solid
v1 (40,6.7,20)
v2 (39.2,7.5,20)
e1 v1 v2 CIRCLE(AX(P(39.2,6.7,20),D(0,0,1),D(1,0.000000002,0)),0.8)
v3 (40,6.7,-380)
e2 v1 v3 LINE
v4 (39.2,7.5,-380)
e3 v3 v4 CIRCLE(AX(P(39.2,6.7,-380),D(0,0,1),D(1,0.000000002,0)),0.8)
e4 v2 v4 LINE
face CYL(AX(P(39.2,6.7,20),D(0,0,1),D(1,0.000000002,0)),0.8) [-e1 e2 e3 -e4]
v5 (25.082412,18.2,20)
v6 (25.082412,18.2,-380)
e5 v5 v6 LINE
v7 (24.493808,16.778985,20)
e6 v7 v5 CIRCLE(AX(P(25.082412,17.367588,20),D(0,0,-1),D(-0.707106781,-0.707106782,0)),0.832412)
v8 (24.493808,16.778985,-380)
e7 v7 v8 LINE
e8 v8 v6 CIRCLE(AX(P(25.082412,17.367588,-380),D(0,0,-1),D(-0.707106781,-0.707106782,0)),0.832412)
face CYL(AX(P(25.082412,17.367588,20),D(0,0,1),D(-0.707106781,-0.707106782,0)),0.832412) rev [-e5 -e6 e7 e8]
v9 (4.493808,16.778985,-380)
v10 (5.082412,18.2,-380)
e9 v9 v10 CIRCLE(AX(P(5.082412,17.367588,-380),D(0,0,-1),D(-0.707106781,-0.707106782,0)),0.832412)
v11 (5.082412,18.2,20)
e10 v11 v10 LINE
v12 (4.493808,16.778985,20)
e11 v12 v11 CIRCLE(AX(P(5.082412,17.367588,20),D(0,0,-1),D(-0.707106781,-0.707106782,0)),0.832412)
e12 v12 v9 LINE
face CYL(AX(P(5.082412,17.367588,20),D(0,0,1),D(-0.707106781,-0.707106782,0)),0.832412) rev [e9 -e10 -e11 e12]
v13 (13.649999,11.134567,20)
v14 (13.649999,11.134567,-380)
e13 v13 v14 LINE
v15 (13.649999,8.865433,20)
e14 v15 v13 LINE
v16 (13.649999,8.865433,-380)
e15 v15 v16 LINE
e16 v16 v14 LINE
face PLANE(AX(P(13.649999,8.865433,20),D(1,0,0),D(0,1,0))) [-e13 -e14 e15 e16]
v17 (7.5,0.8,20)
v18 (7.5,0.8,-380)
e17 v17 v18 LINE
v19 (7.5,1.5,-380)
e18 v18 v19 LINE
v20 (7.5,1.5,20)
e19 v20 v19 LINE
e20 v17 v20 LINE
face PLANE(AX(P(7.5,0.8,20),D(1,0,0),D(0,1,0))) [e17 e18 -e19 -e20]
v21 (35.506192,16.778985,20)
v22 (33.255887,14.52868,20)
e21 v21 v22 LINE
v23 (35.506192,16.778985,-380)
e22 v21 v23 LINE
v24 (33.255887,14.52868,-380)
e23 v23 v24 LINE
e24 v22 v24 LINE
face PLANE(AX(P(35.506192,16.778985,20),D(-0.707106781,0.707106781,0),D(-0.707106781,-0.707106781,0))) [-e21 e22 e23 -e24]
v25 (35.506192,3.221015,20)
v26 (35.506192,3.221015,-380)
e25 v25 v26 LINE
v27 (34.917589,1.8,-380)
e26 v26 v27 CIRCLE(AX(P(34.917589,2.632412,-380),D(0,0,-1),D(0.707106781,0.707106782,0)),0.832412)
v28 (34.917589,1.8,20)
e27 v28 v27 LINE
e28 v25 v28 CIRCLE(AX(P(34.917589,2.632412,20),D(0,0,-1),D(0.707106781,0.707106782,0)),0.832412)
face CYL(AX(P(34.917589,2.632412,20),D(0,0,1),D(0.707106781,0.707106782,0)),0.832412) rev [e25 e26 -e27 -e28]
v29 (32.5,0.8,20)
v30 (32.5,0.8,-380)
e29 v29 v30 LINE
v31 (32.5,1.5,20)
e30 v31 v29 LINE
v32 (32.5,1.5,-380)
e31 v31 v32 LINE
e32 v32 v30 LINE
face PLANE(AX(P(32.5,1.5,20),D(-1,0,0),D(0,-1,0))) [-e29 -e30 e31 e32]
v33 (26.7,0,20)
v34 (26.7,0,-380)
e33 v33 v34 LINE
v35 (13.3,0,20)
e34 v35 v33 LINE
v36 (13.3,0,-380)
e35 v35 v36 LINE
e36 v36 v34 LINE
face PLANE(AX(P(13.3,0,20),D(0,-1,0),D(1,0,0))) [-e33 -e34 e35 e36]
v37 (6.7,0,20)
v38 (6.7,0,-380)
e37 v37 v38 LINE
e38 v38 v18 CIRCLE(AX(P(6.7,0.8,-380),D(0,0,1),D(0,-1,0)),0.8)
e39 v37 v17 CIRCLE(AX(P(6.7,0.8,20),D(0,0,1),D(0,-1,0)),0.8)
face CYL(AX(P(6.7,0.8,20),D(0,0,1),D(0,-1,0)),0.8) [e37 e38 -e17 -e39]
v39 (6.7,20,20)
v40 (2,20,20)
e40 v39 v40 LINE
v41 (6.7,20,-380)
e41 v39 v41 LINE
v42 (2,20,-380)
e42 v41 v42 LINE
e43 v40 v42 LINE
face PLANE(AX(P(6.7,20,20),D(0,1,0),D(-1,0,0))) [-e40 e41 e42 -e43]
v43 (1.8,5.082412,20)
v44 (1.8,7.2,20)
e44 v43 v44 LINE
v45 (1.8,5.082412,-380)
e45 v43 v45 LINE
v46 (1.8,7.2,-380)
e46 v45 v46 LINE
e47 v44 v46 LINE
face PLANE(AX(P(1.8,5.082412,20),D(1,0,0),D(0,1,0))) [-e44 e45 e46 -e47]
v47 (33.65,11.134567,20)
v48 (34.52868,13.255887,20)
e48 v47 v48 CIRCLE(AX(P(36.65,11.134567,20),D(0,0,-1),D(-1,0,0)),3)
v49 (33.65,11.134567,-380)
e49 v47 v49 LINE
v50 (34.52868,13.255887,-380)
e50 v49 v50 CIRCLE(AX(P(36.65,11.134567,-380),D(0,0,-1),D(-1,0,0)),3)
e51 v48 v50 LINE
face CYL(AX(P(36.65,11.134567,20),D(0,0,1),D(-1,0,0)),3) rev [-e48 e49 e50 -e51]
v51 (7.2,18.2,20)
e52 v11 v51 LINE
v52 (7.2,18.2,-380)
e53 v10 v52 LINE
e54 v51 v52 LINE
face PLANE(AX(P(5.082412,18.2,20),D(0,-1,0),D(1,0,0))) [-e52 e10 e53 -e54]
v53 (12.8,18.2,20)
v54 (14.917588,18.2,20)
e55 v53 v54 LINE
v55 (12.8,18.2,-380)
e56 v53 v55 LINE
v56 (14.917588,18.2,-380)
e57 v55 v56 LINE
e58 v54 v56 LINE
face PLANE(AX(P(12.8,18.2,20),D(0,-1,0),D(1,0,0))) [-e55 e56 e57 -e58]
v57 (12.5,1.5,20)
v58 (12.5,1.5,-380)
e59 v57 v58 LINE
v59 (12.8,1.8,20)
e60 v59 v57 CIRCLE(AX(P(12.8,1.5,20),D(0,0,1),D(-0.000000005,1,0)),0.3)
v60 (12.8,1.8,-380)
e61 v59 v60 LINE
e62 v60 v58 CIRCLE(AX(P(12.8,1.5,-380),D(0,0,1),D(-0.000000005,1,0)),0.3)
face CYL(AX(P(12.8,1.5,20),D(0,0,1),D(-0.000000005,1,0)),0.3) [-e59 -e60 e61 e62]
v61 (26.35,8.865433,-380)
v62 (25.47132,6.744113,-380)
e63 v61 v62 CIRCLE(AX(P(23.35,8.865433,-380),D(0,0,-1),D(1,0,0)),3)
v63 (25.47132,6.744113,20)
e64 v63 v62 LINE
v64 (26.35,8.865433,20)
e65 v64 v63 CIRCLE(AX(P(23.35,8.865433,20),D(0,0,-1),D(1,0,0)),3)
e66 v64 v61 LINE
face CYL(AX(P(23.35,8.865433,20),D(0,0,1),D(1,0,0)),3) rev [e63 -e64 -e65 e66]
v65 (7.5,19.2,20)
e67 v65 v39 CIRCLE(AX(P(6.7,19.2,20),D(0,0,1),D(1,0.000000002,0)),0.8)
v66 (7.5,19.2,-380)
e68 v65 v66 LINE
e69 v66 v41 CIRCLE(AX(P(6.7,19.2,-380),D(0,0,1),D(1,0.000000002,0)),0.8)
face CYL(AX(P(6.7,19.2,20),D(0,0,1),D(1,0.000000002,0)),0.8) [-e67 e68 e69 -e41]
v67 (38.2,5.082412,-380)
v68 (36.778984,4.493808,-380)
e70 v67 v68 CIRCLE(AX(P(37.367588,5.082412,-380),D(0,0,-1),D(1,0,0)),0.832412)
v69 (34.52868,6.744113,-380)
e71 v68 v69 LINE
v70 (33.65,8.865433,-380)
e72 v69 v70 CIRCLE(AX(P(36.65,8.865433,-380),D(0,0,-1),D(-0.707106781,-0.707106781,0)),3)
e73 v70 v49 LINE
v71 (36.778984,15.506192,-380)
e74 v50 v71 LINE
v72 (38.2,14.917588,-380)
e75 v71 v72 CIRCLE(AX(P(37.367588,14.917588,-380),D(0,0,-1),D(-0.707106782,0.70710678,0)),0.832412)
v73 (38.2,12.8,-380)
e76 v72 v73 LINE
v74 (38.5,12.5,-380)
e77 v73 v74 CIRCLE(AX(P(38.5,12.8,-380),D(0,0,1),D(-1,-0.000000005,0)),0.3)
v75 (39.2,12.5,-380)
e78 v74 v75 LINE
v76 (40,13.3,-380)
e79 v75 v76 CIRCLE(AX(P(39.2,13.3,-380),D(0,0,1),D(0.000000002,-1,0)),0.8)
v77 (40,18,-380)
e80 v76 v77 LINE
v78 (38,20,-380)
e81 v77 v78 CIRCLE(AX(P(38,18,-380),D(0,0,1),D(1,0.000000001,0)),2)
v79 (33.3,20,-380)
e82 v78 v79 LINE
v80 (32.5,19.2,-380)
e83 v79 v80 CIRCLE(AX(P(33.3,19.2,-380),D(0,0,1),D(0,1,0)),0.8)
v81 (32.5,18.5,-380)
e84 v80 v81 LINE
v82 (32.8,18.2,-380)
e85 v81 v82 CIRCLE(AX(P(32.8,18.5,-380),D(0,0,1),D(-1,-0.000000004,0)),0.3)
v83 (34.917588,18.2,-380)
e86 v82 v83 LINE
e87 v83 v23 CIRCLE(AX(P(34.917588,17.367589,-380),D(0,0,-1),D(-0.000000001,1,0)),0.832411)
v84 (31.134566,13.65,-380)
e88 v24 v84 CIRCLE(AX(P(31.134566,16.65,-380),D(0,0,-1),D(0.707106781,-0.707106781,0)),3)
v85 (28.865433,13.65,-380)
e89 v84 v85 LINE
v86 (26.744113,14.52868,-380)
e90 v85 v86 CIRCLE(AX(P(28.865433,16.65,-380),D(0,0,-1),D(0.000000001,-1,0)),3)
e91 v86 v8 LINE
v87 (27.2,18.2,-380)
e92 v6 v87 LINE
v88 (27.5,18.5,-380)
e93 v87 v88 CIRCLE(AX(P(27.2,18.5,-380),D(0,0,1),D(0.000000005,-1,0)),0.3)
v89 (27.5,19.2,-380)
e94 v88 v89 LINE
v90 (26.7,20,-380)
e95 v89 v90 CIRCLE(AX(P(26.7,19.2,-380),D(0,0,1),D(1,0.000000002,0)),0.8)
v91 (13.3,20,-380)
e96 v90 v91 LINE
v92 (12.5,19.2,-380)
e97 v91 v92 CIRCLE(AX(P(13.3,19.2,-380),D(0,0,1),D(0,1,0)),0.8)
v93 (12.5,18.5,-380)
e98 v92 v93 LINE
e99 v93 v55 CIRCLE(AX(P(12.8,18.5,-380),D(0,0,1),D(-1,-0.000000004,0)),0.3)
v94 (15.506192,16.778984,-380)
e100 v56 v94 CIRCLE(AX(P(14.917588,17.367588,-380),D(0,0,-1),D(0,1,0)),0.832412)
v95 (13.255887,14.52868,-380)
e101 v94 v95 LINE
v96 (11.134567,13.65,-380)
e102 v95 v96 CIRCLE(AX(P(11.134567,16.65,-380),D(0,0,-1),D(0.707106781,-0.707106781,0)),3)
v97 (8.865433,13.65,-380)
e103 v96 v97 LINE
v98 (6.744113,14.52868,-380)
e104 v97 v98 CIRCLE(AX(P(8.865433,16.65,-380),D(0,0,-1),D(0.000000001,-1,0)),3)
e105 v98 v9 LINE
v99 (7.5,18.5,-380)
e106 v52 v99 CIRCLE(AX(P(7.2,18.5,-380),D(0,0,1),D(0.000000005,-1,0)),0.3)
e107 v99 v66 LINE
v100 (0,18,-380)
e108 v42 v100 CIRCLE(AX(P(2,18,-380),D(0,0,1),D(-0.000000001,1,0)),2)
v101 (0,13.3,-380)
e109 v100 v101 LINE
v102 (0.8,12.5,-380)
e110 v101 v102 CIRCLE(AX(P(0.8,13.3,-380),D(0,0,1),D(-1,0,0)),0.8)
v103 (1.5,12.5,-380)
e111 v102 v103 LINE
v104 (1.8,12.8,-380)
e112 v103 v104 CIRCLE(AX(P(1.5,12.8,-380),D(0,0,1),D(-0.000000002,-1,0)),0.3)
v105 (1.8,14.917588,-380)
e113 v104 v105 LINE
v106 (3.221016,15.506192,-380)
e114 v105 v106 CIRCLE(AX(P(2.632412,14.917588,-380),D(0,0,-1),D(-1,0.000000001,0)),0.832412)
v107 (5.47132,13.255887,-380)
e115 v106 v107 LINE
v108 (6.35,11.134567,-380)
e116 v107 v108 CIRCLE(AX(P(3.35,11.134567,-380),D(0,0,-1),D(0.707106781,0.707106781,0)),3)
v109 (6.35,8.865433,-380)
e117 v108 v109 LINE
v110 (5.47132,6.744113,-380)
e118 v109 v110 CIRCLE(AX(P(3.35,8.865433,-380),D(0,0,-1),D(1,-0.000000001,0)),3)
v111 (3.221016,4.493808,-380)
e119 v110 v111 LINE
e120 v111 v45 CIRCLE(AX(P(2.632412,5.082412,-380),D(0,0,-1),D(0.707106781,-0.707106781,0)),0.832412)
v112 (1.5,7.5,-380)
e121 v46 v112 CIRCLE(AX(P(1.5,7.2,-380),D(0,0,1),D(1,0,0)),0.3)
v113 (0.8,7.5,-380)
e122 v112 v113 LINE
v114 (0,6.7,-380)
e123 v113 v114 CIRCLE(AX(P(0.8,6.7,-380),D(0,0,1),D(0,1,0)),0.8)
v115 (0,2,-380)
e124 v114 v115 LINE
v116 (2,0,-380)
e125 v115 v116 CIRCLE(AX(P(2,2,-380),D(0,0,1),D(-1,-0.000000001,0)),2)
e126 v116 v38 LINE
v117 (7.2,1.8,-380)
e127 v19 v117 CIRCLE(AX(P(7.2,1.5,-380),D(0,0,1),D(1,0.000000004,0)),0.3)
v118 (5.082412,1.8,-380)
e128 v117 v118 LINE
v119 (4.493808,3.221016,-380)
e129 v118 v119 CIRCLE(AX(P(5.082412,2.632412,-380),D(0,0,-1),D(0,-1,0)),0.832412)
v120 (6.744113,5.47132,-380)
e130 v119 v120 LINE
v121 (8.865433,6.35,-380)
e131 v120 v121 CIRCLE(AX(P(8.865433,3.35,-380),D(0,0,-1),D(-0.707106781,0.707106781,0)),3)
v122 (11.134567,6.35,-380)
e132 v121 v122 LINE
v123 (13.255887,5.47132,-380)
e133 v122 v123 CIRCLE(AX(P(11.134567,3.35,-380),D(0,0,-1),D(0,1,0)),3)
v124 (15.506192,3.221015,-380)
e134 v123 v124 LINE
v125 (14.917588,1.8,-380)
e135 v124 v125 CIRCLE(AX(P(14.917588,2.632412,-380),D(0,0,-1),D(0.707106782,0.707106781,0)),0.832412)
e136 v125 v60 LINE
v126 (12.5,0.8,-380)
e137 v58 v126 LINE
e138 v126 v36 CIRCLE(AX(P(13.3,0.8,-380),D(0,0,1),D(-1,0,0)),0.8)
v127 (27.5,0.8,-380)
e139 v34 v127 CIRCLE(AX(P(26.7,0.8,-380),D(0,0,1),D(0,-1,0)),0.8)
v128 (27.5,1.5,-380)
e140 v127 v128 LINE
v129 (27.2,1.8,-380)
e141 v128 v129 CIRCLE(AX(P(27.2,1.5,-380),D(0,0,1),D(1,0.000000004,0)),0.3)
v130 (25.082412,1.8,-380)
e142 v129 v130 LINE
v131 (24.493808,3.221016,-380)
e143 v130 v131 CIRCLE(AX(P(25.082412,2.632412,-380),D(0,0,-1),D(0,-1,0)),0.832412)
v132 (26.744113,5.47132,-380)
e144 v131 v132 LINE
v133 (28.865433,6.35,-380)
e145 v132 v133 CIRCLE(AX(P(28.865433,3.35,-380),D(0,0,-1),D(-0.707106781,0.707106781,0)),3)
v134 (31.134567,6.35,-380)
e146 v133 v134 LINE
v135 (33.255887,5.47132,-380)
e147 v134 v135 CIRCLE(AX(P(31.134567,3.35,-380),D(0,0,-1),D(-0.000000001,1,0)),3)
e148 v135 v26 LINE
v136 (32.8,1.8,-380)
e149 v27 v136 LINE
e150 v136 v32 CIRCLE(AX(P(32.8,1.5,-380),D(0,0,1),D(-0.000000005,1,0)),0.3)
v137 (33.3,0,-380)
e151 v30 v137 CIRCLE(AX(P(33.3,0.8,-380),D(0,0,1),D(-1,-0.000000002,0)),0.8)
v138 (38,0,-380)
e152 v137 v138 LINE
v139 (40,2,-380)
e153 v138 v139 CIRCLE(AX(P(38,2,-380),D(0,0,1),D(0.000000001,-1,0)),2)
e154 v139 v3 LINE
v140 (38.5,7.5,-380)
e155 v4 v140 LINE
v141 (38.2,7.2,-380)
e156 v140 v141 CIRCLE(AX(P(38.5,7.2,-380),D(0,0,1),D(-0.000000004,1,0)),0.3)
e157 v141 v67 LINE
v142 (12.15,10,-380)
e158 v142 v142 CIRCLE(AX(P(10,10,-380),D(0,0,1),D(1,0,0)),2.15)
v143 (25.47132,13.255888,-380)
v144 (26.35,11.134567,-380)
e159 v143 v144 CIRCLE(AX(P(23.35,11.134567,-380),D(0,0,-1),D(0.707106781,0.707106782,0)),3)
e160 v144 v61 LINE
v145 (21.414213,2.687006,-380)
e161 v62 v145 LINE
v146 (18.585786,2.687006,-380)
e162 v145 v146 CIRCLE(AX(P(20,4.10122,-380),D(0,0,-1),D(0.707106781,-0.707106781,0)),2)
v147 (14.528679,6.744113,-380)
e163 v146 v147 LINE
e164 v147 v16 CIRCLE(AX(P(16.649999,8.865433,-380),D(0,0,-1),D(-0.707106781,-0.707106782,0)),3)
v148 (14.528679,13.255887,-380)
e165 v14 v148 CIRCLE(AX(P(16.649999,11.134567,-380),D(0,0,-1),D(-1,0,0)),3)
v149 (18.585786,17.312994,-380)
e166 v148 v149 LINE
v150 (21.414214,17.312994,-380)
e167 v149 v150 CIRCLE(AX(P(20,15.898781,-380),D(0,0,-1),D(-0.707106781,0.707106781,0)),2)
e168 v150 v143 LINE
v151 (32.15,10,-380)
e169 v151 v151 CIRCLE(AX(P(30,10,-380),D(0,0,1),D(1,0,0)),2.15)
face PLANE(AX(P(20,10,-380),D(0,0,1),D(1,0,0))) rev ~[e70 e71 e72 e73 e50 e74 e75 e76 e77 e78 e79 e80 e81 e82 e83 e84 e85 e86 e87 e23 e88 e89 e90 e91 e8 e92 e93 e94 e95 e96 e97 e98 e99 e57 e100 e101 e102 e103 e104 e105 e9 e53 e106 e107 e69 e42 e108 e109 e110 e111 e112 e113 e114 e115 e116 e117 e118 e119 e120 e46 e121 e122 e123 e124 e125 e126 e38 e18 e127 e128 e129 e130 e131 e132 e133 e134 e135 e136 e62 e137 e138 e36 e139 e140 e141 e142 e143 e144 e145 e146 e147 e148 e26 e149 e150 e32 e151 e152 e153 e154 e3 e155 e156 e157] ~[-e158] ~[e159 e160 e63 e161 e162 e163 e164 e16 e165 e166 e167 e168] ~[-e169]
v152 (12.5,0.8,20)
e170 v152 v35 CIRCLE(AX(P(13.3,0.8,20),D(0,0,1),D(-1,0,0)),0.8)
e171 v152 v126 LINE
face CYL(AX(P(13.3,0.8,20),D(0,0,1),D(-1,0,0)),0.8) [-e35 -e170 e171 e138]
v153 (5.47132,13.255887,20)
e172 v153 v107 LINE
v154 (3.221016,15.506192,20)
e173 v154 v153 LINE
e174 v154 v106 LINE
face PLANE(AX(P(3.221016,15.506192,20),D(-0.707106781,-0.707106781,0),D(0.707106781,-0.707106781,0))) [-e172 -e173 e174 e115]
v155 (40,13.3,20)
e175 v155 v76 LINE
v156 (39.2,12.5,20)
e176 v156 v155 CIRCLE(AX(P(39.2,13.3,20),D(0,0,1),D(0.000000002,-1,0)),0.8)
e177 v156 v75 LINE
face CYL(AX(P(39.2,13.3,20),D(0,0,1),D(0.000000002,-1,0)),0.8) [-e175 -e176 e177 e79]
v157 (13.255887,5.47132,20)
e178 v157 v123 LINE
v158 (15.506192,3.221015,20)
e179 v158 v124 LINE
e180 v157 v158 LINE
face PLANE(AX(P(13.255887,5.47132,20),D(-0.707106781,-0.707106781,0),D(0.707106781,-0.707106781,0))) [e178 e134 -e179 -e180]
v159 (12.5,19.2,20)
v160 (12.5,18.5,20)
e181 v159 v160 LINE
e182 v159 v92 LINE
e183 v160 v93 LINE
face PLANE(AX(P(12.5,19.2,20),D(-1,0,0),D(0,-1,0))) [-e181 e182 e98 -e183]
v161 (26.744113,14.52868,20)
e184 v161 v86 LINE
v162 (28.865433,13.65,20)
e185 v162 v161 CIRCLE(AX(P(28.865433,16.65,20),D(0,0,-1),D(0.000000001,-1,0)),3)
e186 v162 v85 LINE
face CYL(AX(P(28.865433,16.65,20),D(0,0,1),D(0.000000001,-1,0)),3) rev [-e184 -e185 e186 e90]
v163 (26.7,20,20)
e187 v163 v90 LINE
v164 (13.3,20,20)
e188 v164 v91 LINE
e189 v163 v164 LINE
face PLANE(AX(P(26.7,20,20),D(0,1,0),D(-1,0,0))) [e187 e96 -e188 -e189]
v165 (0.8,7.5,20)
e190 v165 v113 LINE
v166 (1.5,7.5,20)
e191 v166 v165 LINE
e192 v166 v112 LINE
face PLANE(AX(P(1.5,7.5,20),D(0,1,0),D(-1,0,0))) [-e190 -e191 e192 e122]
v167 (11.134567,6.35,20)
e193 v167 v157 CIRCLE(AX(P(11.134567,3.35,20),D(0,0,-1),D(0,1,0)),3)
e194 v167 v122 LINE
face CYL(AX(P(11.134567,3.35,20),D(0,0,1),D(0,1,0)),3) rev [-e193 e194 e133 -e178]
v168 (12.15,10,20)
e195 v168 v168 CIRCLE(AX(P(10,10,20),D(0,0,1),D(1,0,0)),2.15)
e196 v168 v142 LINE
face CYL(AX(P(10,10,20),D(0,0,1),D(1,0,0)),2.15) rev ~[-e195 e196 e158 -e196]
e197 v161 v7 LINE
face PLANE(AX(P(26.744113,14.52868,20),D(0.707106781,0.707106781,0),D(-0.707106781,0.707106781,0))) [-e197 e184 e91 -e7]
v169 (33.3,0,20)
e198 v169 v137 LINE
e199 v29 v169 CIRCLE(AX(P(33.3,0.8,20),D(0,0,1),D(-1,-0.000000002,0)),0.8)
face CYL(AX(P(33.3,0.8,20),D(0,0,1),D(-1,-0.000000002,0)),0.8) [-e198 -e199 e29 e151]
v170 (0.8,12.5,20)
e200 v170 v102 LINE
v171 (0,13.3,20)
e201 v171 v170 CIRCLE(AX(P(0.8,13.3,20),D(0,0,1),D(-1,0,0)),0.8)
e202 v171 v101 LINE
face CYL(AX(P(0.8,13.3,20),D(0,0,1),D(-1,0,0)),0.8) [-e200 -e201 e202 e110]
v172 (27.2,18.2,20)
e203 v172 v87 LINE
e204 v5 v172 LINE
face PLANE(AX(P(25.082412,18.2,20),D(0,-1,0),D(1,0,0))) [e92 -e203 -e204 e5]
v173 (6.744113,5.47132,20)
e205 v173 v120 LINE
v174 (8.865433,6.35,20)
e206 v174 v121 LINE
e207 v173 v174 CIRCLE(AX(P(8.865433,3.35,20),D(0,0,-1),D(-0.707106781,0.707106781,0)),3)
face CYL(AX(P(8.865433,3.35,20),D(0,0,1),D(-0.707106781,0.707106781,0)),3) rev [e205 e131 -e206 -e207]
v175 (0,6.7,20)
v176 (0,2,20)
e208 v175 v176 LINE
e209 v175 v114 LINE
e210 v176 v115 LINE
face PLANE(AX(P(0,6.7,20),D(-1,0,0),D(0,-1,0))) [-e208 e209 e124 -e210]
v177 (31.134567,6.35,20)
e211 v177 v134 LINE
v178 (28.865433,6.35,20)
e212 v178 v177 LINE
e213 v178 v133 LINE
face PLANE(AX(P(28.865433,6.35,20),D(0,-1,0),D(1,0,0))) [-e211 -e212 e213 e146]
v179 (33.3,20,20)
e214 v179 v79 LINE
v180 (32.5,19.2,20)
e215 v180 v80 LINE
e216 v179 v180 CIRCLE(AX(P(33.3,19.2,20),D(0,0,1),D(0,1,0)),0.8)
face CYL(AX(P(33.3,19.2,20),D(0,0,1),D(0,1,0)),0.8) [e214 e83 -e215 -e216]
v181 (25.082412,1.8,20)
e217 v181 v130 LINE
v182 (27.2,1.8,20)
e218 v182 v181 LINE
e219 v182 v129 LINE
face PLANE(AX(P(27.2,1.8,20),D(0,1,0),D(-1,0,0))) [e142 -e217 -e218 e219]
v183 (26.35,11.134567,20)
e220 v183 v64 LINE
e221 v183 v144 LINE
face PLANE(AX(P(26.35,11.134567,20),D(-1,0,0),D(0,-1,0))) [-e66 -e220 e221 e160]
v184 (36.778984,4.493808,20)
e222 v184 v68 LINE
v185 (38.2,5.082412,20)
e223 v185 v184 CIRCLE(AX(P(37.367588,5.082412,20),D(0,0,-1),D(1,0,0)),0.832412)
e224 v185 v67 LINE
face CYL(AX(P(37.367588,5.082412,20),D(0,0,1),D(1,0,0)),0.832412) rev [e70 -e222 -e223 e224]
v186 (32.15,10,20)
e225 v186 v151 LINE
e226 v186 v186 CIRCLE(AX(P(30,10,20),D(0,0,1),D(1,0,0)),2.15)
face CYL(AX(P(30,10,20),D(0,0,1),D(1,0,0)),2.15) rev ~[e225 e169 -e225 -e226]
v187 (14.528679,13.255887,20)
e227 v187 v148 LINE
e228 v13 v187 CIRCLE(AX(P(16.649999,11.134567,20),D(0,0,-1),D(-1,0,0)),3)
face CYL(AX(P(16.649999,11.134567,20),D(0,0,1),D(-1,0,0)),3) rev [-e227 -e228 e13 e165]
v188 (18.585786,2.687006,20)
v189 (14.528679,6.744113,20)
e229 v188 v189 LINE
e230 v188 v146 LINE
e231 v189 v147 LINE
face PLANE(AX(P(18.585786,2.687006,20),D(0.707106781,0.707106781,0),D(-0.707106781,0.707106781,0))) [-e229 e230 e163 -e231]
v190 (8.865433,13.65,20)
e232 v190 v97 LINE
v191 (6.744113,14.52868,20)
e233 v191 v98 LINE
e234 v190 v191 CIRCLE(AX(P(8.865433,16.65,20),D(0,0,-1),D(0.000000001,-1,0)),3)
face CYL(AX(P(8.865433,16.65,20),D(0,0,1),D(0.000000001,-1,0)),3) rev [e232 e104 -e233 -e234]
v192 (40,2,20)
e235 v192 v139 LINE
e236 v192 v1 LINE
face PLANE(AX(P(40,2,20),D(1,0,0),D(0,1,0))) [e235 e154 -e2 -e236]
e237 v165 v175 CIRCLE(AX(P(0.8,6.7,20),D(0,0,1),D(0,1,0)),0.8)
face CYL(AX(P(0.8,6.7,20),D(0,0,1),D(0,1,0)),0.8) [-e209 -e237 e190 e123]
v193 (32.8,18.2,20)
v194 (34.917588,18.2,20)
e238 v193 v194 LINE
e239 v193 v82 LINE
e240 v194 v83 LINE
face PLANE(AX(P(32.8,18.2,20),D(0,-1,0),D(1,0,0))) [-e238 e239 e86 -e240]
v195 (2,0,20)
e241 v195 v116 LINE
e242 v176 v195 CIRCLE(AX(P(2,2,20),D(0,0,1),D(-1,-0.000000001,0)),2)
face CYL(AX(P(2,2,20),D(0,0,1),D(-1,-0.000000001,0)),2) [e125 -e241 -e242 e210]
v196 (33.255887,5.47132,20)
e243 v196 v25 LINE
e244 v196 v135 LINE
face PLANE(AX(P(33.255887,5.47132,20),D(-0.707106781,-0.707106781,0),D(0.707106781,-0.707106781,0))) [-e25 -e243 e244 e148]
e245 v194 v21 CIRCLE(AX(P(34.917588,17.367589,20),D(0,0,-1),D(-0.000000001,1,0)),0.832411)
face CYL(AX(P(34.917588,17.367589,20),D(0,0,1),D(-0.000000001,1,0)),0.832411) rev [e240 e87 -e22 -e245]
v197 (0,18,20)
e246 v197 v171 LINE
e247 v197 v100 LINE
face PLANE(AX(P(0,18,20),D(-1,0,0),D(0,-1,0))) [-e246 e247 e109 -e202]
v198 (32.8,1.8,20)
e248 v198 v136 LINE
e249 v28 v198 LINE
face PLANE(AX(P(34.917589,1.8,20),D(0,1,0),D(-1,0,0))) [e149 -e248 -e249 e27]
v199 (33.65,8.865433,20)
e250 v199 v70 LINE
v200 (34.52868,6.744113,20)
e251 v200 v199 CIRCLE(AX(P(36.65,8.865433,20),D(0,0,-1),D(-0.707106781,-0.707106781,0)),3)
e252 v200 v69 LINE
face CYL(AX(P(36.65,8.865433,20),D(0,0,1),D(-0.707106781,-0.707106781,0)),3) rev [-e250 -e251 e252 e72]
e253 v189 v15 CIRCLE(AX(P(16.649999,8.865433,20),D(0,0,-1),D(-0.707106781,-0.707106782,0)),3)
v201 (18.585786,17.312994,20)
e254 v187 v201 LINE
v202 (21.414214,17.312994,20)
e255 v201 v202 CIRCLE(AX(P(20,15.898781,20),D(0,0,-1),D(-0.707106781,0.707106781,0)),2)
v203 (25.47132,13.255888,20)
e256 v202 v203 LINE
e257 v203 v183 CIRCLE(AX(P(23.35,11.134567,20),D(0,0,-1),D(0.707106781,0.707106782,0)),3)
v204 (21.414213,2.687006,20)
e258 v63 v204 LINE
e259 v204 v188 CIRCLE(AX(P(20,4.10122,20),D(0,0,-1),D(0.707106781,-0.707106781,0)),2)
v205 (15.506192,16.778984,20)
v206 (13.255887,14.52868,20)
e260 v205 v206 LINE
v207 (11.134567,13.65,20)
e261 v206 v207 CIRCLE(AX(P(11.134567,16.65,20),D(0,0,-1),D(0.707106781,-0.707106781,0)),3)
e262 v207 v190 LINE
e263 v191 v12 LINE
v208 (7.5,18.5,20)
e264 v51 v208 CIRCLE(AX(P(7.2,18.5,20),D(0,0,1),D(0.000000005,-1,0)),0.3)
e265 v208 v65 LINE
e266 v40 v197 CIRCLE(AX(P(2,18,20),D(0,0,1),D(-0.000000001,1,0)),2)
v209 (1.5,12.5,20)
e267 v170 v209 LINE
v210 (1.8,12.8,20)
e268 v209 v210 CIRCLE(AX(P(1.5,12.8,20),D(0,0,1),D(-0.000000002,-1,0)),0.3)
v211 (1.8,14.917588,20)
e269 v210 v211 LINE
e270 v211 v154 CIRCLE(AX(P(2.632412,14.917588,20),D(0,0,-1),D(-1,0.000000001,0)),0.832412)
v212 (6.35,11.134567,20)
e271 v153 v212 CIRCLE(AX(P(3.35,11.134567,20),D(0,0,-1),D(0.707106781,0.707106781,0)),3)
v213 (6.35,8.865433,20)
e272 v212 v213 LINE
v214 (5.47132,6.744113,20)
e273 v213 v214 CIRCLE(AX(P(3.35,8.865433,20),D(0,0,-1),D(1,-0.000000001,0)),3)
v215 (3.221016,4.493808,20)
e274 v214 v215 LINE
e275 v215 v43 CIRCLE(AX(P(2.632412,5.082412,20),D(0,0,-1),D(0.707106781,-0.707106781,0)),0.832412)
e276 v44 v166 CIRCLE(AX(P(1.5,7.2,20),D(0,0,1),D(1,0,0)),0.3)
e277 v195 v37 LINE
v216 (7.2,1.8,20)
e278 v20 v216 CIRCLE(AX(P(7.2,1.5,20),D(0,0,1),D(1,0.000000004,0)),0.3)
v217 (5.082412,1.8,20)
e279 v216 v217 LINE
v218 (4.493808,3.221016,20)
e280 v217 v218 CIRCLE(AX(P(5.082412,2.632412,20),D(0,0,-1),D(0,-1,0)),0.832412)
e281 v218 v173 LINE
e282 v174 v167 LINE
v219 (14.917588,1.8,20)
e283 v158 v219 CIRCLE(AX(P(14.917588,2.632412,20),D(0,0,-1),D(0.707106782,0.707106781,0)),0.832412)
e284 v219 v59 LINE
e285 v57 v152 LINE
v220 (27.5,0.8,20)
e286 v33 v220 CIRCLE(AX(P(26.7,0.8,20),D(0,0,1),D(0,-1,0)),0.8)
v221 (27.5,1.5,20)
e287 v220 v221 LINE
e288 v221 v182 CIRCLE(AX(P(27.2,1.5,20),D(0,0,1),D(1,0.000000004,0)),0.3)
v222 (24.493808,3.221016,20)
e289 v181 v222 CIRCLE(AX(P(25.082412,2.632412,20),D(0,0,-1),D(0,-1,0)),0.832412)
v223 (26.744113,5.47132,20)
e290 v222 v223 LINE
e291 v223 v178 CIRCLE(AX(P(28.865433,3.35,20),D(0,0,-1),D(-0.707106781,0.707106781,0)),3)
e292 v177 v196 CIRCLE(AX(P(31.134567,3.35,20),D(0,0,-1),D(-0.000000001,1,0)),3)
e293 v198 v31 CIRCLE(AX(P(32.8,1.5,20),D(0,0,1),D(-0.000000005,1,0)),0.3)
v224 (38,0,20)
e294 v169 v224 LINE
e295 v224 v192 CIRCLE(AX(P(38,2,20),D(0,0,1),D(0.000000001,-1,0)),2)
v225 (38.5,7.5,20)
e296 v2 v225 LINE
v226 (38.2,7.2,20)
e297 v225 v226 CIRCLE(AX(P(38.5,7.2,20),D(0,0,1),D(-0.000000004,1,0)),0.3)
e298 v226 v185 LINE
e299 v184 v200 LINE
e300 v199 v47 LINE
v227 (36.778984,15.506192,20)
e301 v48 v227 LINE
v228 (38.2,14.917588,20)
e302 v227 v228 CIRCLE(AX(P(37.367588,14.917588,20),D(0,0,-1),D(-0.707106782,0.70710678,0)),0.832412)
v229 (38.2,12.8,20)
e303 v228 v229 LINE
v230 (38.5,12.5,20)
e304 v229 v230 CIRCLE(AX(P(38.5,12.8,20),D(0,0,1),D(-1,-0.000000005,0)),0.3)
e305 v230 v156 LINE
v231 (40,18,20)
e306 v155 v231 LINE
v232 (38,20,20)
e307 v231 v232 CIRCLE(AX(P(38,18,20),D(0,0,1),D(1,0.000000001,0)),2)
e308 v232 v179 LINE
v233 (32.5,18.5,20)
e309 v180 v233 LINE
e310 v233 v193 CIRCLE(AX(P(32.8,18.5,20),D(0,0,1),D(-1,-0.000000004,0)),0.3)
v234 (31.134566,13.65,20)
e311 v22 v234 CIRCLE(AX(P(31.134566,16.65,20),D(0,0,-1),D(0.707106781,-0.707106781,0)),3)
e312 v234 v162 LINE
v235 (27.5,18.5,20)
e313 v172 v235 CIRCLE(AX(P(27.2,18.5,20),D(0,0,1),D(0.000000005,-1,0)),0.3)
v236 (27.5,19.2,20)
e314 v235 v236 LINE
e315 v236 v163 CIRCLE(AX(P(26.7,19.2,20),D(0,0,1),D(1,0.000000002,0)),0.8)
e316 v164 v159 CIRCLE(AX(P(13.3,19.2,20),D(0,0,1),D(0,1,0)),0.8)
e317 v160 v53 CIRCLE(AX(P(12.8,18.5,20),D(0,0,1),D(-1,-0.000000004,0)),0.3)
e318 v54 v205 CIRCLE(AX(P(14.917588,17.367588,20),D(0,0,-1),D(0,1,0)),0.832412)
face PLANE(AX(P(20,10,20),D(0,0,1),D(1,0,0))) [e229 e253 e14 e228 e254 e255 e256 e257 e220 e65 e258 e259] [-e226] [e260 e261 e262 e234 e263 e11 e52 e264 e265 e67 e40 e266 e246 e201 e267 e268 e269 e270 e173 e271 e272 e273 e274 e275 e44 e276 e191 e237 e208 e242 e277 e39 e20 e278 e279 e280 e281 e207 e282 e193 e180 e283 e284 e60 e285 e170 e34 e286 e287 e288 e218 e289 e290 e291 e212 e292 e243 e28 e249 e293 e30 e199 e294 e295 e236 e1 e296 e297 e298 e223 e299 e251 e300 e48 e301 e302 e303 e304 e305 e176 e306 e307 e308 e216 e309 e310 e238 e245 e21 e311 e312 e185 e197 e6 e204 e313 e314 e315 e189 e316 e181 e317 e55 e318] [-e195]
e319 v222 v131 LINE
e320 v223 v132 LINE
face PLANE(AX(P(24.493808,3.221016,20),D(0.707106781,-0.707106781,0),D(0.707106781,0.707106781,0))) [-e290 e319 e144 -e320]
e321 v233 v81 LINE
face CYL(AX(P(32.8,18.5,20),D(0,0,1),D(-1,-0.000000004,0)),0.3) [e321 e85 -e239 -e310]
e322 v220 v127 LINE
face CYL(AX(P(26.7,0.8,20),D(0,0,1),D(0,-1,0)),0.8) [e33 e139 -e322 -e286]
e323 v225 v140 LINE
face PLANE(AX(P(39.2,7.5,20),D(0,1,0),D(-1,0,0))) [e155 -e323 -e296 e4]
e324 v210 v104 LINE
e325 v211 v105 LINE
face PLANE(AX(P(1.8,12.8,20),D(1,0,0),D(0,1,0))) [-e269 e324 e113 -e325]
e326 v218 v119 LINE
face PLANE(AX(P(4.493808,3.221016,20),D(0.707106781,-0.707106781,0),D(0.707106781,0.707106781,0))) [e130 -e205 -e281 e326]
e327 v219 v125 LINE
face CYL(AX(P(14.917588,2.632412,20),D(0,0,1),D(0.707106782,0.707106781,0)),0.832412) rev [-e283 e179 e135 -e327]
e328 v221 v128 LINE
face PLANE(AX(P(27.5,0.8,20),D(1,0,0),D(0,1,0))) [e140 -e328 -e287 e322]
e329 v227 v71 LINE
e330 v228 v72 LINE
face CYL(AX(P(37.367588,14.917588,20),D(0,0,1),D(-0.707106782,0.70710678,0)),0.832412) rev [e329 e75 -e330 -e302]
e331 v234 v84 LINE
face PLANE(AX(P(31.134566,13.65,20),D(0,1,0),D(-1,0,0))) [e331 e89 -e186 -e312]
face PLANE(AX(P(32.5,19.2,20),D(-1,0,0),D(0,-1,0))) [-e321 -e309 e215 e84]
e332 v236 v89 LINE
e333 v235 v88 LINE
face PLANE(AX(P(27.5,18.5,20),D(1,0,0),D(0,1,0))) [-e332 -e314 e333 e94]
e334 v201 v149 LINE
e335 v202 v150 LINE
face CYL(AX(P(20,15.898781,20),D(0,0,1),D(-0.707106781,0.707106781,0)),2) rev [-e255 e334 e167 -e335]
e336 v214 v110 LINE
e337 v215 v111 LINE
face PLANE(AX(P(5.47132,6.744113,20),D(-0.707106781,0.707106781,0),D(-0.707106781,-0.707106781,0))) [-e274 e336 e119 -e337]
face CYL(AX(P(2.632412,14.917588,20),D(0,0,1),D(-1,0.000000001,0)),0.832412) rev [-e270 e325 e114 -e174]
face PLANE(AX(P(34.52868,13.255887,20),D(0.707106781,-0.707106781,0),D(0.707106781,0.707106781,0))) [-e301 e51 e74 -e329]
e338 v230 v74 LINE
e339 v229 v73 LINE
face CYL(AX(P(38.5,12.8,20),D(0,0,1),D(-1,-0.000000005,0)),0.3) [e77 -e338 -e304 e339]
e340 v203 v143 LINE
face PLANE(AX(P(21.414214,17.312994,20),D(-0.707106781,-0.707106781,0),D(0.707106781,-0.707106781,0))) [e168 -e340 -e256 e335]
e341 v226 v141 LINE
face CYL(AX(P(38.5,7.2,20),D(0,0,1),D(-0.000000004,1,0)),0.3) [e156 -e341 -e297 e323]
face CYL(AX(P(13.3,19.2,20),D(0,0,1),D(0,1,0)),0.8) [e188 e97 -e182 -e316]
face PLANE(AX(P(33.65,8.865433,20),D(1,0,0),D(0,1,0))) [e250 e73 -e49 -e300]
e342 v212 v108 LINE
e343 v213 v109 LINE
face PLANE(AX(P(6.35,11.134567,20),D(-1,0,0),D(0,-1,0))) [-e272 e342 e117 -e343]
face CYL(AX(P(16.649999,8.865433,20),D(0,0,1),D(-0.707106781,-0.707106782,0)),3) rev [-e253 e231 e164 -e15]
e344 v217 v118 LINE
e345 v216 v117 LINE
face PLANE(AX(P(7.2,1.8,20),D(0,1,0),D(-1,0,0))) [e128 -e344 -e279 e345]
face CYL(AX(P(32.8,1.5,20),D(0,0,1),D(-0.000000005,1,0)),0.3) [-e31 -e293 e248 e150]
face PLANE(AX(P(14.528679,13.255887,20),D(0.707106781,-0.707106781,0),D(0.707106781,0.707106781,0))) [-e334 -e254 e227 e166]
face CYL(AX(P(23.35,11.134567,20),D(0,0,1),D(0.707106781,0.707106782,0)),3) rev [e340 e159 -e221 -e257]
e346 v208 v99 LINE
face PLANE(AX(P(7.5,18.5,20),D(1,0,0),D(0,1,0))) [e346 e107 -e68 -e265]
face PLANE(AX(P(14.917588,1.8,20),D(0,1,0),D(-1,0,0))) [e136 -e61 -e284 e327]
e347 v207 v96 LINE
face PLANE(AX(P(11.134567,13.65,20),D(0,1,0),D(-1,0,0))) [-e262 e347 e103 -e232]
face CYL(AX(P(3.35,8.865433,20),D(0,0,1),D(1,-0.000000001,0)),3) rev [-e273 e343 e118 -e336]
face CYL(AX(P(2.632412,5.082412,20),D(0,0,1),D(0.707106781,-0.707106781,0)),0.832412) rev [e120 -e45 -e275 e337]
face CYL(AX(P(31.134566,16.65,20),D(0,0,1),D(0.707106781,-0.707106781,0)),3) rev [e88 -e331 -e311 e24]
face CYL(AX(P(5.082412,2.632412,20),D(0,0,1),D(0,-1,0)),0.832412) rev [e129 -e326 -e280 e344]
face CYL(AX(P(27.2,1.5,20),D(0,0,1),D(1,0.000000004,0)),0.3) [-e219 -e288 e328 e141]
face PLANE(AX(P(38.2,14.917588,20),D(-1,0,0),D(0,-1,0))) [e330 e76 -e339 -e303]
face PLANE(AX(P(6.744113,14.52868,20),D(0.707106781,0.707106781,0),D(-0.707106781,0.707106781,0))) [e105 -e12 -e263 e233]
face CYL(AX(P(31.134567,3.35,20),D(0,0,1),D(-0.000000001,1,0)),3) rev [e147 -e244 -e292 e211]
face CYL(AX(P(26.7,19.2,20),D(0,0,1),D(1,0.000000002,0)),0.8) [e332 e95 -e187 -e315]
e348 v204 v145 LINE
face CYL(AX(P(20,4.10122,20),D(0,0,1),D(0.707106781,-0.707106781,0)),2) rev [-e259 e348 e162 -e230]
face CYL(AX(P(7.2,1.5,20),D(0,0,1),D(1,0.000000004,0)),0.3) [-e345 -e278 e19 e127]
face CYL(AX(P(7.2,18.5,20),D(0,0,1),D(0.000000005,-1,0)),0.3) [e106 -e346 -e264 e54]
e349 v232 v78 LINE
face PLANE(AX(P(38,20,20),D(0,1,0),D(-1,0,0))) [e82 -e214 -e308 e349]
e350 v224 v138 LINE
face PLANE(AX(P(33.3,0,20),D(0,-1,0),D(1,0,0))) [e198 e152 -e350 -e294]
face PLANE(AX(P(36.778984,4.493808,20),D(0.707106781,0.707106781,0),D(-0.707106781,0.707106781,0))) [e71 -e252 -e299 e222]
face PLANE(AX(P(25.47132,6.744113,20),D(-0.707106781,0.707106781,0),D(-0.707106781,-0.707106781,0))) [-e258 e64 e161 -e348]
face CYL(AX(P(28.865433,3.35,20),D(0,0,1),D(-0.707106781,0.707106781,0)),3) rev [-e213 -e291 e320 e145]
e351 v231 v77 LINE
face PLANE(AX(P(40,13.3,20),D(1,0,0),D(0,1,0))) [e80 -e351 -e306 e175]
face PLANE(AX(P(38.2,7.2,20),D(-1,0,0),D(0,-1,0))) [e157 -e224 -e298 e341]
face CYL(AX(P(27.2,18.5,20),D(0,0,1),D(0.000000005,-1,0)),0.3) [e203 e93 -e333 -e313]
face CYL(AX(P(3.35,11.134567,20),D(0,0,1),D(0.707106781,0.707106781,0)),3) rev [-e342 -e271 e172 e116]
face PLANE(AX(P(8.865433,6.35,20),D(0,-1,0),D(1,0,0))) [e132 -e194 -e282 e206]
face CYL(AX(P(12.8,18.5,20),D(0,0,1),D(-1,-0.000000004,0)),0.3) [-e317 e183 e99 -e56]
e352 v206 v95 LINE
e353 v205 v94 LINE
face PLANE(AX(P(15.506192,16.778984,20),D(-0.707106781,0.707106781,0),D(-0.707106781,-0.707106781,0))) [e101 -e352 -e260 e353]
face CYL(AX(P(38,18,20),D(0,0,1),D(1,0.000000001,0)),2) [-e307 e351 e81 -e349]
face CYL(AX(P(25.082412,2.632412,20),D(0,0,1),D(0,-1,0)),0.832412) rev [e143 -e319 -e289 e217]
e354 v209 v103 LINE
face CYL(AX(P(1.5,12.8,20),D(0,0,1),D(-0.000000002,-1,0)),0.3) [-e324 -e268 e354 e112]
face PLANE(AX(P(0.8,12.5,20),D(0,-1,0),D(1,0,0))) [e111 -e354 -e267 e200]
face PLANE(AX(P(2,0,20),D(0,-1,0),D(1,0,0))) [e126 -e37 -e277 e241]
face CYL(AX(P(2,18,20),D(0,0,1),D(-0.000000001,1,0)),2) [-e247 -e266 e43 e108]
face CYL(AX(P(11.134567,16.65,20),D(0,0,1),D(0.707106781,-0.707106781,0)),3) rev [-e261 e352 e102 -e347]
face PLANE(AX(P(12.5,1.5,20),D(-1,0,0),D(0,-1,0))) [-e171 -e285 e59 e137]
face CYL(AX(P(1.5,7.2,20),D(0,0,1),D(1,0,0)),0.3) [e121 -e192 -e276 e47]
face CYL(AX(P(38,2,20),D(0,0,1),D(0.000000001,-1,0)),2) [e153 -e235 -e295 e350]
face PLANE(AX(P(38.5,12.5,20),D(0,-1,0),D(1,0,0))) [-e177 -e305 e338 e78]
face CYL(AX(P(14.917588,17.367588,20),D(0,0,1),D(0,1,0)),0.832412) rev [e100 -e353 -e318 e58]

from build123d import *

# Parameters (mm, degrees)
CROQUIS1_R              = 2.15
SALIENTE_EXTRUIR1_DEPTH = 400


with BuildPart() as part:
    # Croquis1 → Saliente-Extruir1 (new body)
    with BuildSketch(Plane.XY.offset(20)):
        with BuildLine():
            Line((32.499999987, 1.499999997), (32.499999987, 0.800000002))
            ThreePointArc((32.499999987, 0.800000002), (32.734314563, 0.234314576), (33.29999999, 0))
            Line((33.29999999, 0), (38, 0))
            ThreePointArc((38, 0), (39.414213562, 0.585786438), (40, 2))
            Line((40, 2), (40, 6.700000003))
            ThreePointArc((40, 6.700000003), (39.765685425, 7.265685427), (39.2, 7.500000003))
            Line((39.2, 7.500000003), (38.499999996, 7.500000003))
            ThreePointArc((38.499999996, 7.500000003), (38.287867962, 7.412132037), (38.199999996, 7.200000003))
            Line((38.199999996, 7.200000003), (38.199999996, 5.082411612))
            ThreePointArc((38.199999996, 5.082411612), (37.686138518, 4.313363563), (36.778984492, 4.493807718))
            Line((36.778984492, 4.493807718), (34.528679652, 6.744112558))
            ThreePointArc((34.528679652, 6.744112558), (33.878361399, 7.717382603), (33.649999997, 8.865432898))
            Line((33.649999997, 8.865432898), (33.649999997, 11.134567109))
            ThreePointArc((33.649999997, 11.134567109), (33.878361399, 12.282617405), (34.528679653, 13.255887451))
            Line((34.528679653, 13.255887451), (36.778984498, 15.506192296))
            ThreePointArc((36.778984498, 15.506192296), (37.68613852, 15.686636451), (38.199999996, 14.917588405))
            Line((38.199999996, 14.917588405), (38.199999996, 12.800000003))
            ThreePointArc((38.199999996, 12.800000003), (38.287867963, 12.587867967), (38.499999999, 12.5))
            Line((38.499999999, 12.5), (39.199999998, 12.5))
            ThreePointArc((39.199999998, 12.5), (39.765685424, 12.734314576), (40, 13.300000002))
            Line((40, 13.300000002), (40, 18))
            ThreePointArc((40, 18), (39.414213562, 19.414213562), (38, 20))
            Line((38, 20), (33.299999987, 20))
            ThreePointArc((33.299999987, 20), (32.734314562, 19.765685425), (32.499999987, 19.2))
            Line((32.499999987, 19.2), (32.499999987, 18.499999997))
            ThreePointArc((32.499999987, 18.499999997), (32.587867953, 18.287867963), (32.799999987, 18.199999997))
            Line((32.799999987, 18.199999997), (34.917587986, 18.199999997))
            ThreePointArc((34.917587986, 18.199999997), (35.686635927, 17.686138592), (35.506191797, 16.778984693))
            Line((35.506191797, 16.778984693), (33.255886766, 14.528679662))
            ThreePointArc((33.255886766, 14.528679662), (32.282616721, 13.878361409), (31.134566426, 13.650000007))
            Line((31.134566426, 13.650000007), (28.86543289, 13.650000007))
            ThreePointArc((28.86543289, 13.650000007), (27.717382593, 13.878361409), (26.744112547, 14.528679663))
            Line((26.744112547, 14.528679663), (24.493807707, 16.778984503))
            ThreePointArc((24.493807707, 16.778984503), (24.313363553, 17.686138523), (25.082411597, 18.199999997))
            Line((25.082411597, 18.199999997), (27.199999997, 18.199999997))
            ThreePointArc((27.199999997, 18.199999997), (27.412132033, 18.287867964), (27.5, 18.5))
            Line((27.5, 18.5), (27.5, 19.199999998))
            ThreePointArc((27.5, 19.199999998), (27.265685424, 19.765685424), (26.699999997, 20))
            Line((26.699999997, 20), (13.299999987, 20))
            ThreePointArc((13.299999987, 20), (12.734314562, 19.765685425), (12.499999987, 19.2))
            Line((12.499999987, 19.2), (12.499999987, 18.499999997))
            ThreePointArc((12.499999987, 18.499999997), (12.587867953, 18.287867963), (12.799999987, 18.199999997))
            Line((12.799999987, 18.199999997), (14.917588389, 18.199999997))
            ThreePointArc((14.917588389, 18.199999997), (15.686636438, 17.686138519), (15.506192283, 16.778984493))
            Line((15.506192283, 16.778984493), (13.255887452, 14.528679662))
            ThreePointArc((13.255887452, 14.528679662), (12.282617407, 13.878361409), (11.134567112, 13.650000007))
            Line((11.134567112, 13.650000007), (8.86543289, 13.650000007))
            ThreePointArc((8.86543289, 13.650000007), (7.717382593, 13.878361409), (6.744112547, 14.528679663))
            Line((6.744112547, 14.528679663), (4.493807707, 16.778984503))
            ThreePointArc((4.493807707, 16.778984503), (4.313363553, 17.686138523), (5.082411597, 18.199999997))
            Line((5.082411597, 18.199999997), (7.199999997, 18.199999997))
            ThreePointArc((7.199999997, 18.199999997), (7.412132033, 18.287867964), (7.5, 18.5))
            Line((7.5, 18.5), (7.5, 19.199999998))
            ThreePointArc((7.5, 19.199999998), (7.265685424, 19.765685424), (6.699999997, 20))
            Line((6.699999997, 20), (2, 20))
            ThreePointArc((2, 20), (0.585786438, 19.414213562), (0, 18))
            Line((0, 18), (0, 13.3))
            ThreePointArc((0, 13.3), (0.234314575, 12.734314575), (0.8, 12.5))
            Line((0.8, 12.5), (1.500000005, 12.5))
            ThreePointArc((1.500000005, 12.5), (1.71213204, 12.587867966), (1.800000005, 12.8))
            Line((1.800000005, 12.8), (1.800000005, 14.91758839))
            ThreePointArc((1.800000005, 14.91758839), (2.313861483, 15.686636439), (3.22101551, 15.506192284))
            Line((3.22101551, 15.506192284), (5.471320341, 13.255887453))
            ThreePointArc((5.471320341, 13.255887453), (6.121638594, 12.282617408), (6.349999996, 11.134567113))
            Line((6.349999996, 11.134567113), (6.349999996, 8.865432892))
            ThreePointArc((6.349999996, 8.865432892), (6.121638593, 7.717382596), (5.47132034, 6.74411255))
            Line((5.47132034, 6.74411255), (3.2210155, 4.49380771))
            ThreePointArc((3.2210155, 4.49380771), (2.31386148, 4.313363556), (1.800000005, 5.0824116))
            Line((1.800000005, 5.0824116), (1.800000005, 7.2))
            ThreePointArc((1.800000005, 7.2), (1.712132039, 7.412132036), (1.500000003, 7.500000003))
            Line((1.500000003, 7.500000003), (0.800000003, 7.500000003))
            ThreePointArc((0.800000003, 7.500000003), (0.234314576, 7.265685427), (0, 6.7))
            Line((0, 6.7), (0, 2))
            ThreePointArc((0, 2), (0.585786438, 0.585786438), (2, 0))
            Line((2, 0), (6.7, 0))
            ThreePointArc((6.7, 0), (7.265685425, 0.234314575), (7.5, 0.8))
            Line((7.5, 0.8), (7.5, 1.5))
            ThreePointArc((7.5, 1.5), (7.412132034, 1.712132034), (7.2, 1.8))
            Line((7.2, 1.8), (5.0824116, 1.8))
            ThreePointArc((5.0824116, 1.8), (4.313363551, 2.313861478), (4.493807706, 3.221015504))
            Line((4.493807706, 3.221015504), (6.744112546, 5.471320344))
            ThreePointArc((6.744112546, 5.471320344), (7.717382591, 6.121638597), (8.865432886, 6.349999999))
            Line((8.865432886, 6.349999999), (11.134567108, 6.349999999))
            ThreePointArc((11.134567108, 6.349999999), (12.282617404, 6.121638597), (13.25588745, 5.471320343))
            Line((13.25588745, 5.471320343), (15.506192295, 3.221015498))
            ThreePointArc((15.506192295, 3.221015498), (15.686636449, 2.313861476), (14.917588403, 1.8))
            Line((14.917588403, 1.8), (12.79999999, 1.8))
            ThreePointArc((12.79999999, 1.8), (12.587867954, 1.712132033), (12.499999987, 1.499999997))
            Line((12.499999987, 1.499999997), (12.499999987, 0.800000003))
            ThreePointArc((12.499999987, 0.800000003), (12.734314563, 0.234314576), (13.29999999, 0))
            Line((13.29999999, 0), (26.7, 0))
            ThreePointArc((26.7, 0), (27.265685425, 0.234314575), (27.5, 0.8))
            Line((27.5, 0.8), (27.5, 1.5))
            ThreePointArc((27.5, 1.5), (27.412132034, 1.712132034), (27.2, 1.8))
            Line((27.2, 1.8), (25.0824116, 1.8))
            ThreePointArc((25.0824116, 1.8), (24.313363551, 2.313861478), (24.493807706, 3.221015504))
            Line((24.493807706, 3.221015504), (26.744112546, 5.471320344))
            ThreePointArc((26.744112546, 5.471320344), (27.717382591, 6.121638597), (28.865432886, 6.349999999))
            Line((28.865432886, 6.349999999), (31.134567114, 6.349999999))
            ThreePointArc((31.134567114, 6.349999999), (32.282617411, 6.121638597), (33.255887457, 5.471320343))
            Line((33.255887457, 5.471320343), (35.506192392, 3.221015408))
            ThreePointArc((35.506192392, 3.221015408), (35.686636535, 2.313861443), (34.917588538, 1.8))
            Line((34.917588538, 1.8), (32.79999999, 1.8))
            ThreePointArc((32.79999999, 1.8), (32.587867954, 1.712132033), (32.499999987, 1.499999997))
        make_face()
        with Locations((10, 10)):
            Circle(CROQUIS1_R, mode=Mode.SUBTRACT)
        with Locations((30, 10)):
            Circle(CROQUIS1_R, mode=Mode.SUBTRACT)
        with BuildLine():
            Line((18.585786097, 2.687006113), (14.528679097, 6.744113113))
            ThreePointArc((14.528679097, 6.744113113), (13.878360843, 7.717383159), (13.649999441, 8.865433456))
            Line((13.649999441, 8.865433456), (13.649999441, 11.134566554))
            ThreePointArc((13.649999441, 11.134566554), (13.878360843, 12.282616849), (14.528679096, 13.255886895))
            Line((14.528679096, 13.255886895), (18.585786441, 17.312994239))
            ThreePointArc((18.585786441, 17.312994239), (20.000000001, 17.898780676), (21.414213561, 17.312994239))
            Line((21.414213561, 17.312994239), (25.471320216, 13.255887584))
            ThreePointArc((25.471320216, 13.255887584), (26.12163847, 12.282617538), (26.349999872, 11.13456724))
            Line((26.349999872, 11.13456724), (26.349999872, 8.865433454))
            ThreePointArc((26.349999872, 8.865433454), (26.12163847, 7.717383158), (25.471320217, 6.744113113))
            Line((25.471320217, 6.744113113), (21.414213217, 2.687006113))
            ThreePointArc((21.414213217, 2.687006113), (19.999999657, 2.101219676), (18.585786097, 2.687006113))
        make_face(mode=Mode.SUBTRACT)
    extrude(amount=-SALIENTE_EXTRUIR1_DEPTH)


solid = part.part
